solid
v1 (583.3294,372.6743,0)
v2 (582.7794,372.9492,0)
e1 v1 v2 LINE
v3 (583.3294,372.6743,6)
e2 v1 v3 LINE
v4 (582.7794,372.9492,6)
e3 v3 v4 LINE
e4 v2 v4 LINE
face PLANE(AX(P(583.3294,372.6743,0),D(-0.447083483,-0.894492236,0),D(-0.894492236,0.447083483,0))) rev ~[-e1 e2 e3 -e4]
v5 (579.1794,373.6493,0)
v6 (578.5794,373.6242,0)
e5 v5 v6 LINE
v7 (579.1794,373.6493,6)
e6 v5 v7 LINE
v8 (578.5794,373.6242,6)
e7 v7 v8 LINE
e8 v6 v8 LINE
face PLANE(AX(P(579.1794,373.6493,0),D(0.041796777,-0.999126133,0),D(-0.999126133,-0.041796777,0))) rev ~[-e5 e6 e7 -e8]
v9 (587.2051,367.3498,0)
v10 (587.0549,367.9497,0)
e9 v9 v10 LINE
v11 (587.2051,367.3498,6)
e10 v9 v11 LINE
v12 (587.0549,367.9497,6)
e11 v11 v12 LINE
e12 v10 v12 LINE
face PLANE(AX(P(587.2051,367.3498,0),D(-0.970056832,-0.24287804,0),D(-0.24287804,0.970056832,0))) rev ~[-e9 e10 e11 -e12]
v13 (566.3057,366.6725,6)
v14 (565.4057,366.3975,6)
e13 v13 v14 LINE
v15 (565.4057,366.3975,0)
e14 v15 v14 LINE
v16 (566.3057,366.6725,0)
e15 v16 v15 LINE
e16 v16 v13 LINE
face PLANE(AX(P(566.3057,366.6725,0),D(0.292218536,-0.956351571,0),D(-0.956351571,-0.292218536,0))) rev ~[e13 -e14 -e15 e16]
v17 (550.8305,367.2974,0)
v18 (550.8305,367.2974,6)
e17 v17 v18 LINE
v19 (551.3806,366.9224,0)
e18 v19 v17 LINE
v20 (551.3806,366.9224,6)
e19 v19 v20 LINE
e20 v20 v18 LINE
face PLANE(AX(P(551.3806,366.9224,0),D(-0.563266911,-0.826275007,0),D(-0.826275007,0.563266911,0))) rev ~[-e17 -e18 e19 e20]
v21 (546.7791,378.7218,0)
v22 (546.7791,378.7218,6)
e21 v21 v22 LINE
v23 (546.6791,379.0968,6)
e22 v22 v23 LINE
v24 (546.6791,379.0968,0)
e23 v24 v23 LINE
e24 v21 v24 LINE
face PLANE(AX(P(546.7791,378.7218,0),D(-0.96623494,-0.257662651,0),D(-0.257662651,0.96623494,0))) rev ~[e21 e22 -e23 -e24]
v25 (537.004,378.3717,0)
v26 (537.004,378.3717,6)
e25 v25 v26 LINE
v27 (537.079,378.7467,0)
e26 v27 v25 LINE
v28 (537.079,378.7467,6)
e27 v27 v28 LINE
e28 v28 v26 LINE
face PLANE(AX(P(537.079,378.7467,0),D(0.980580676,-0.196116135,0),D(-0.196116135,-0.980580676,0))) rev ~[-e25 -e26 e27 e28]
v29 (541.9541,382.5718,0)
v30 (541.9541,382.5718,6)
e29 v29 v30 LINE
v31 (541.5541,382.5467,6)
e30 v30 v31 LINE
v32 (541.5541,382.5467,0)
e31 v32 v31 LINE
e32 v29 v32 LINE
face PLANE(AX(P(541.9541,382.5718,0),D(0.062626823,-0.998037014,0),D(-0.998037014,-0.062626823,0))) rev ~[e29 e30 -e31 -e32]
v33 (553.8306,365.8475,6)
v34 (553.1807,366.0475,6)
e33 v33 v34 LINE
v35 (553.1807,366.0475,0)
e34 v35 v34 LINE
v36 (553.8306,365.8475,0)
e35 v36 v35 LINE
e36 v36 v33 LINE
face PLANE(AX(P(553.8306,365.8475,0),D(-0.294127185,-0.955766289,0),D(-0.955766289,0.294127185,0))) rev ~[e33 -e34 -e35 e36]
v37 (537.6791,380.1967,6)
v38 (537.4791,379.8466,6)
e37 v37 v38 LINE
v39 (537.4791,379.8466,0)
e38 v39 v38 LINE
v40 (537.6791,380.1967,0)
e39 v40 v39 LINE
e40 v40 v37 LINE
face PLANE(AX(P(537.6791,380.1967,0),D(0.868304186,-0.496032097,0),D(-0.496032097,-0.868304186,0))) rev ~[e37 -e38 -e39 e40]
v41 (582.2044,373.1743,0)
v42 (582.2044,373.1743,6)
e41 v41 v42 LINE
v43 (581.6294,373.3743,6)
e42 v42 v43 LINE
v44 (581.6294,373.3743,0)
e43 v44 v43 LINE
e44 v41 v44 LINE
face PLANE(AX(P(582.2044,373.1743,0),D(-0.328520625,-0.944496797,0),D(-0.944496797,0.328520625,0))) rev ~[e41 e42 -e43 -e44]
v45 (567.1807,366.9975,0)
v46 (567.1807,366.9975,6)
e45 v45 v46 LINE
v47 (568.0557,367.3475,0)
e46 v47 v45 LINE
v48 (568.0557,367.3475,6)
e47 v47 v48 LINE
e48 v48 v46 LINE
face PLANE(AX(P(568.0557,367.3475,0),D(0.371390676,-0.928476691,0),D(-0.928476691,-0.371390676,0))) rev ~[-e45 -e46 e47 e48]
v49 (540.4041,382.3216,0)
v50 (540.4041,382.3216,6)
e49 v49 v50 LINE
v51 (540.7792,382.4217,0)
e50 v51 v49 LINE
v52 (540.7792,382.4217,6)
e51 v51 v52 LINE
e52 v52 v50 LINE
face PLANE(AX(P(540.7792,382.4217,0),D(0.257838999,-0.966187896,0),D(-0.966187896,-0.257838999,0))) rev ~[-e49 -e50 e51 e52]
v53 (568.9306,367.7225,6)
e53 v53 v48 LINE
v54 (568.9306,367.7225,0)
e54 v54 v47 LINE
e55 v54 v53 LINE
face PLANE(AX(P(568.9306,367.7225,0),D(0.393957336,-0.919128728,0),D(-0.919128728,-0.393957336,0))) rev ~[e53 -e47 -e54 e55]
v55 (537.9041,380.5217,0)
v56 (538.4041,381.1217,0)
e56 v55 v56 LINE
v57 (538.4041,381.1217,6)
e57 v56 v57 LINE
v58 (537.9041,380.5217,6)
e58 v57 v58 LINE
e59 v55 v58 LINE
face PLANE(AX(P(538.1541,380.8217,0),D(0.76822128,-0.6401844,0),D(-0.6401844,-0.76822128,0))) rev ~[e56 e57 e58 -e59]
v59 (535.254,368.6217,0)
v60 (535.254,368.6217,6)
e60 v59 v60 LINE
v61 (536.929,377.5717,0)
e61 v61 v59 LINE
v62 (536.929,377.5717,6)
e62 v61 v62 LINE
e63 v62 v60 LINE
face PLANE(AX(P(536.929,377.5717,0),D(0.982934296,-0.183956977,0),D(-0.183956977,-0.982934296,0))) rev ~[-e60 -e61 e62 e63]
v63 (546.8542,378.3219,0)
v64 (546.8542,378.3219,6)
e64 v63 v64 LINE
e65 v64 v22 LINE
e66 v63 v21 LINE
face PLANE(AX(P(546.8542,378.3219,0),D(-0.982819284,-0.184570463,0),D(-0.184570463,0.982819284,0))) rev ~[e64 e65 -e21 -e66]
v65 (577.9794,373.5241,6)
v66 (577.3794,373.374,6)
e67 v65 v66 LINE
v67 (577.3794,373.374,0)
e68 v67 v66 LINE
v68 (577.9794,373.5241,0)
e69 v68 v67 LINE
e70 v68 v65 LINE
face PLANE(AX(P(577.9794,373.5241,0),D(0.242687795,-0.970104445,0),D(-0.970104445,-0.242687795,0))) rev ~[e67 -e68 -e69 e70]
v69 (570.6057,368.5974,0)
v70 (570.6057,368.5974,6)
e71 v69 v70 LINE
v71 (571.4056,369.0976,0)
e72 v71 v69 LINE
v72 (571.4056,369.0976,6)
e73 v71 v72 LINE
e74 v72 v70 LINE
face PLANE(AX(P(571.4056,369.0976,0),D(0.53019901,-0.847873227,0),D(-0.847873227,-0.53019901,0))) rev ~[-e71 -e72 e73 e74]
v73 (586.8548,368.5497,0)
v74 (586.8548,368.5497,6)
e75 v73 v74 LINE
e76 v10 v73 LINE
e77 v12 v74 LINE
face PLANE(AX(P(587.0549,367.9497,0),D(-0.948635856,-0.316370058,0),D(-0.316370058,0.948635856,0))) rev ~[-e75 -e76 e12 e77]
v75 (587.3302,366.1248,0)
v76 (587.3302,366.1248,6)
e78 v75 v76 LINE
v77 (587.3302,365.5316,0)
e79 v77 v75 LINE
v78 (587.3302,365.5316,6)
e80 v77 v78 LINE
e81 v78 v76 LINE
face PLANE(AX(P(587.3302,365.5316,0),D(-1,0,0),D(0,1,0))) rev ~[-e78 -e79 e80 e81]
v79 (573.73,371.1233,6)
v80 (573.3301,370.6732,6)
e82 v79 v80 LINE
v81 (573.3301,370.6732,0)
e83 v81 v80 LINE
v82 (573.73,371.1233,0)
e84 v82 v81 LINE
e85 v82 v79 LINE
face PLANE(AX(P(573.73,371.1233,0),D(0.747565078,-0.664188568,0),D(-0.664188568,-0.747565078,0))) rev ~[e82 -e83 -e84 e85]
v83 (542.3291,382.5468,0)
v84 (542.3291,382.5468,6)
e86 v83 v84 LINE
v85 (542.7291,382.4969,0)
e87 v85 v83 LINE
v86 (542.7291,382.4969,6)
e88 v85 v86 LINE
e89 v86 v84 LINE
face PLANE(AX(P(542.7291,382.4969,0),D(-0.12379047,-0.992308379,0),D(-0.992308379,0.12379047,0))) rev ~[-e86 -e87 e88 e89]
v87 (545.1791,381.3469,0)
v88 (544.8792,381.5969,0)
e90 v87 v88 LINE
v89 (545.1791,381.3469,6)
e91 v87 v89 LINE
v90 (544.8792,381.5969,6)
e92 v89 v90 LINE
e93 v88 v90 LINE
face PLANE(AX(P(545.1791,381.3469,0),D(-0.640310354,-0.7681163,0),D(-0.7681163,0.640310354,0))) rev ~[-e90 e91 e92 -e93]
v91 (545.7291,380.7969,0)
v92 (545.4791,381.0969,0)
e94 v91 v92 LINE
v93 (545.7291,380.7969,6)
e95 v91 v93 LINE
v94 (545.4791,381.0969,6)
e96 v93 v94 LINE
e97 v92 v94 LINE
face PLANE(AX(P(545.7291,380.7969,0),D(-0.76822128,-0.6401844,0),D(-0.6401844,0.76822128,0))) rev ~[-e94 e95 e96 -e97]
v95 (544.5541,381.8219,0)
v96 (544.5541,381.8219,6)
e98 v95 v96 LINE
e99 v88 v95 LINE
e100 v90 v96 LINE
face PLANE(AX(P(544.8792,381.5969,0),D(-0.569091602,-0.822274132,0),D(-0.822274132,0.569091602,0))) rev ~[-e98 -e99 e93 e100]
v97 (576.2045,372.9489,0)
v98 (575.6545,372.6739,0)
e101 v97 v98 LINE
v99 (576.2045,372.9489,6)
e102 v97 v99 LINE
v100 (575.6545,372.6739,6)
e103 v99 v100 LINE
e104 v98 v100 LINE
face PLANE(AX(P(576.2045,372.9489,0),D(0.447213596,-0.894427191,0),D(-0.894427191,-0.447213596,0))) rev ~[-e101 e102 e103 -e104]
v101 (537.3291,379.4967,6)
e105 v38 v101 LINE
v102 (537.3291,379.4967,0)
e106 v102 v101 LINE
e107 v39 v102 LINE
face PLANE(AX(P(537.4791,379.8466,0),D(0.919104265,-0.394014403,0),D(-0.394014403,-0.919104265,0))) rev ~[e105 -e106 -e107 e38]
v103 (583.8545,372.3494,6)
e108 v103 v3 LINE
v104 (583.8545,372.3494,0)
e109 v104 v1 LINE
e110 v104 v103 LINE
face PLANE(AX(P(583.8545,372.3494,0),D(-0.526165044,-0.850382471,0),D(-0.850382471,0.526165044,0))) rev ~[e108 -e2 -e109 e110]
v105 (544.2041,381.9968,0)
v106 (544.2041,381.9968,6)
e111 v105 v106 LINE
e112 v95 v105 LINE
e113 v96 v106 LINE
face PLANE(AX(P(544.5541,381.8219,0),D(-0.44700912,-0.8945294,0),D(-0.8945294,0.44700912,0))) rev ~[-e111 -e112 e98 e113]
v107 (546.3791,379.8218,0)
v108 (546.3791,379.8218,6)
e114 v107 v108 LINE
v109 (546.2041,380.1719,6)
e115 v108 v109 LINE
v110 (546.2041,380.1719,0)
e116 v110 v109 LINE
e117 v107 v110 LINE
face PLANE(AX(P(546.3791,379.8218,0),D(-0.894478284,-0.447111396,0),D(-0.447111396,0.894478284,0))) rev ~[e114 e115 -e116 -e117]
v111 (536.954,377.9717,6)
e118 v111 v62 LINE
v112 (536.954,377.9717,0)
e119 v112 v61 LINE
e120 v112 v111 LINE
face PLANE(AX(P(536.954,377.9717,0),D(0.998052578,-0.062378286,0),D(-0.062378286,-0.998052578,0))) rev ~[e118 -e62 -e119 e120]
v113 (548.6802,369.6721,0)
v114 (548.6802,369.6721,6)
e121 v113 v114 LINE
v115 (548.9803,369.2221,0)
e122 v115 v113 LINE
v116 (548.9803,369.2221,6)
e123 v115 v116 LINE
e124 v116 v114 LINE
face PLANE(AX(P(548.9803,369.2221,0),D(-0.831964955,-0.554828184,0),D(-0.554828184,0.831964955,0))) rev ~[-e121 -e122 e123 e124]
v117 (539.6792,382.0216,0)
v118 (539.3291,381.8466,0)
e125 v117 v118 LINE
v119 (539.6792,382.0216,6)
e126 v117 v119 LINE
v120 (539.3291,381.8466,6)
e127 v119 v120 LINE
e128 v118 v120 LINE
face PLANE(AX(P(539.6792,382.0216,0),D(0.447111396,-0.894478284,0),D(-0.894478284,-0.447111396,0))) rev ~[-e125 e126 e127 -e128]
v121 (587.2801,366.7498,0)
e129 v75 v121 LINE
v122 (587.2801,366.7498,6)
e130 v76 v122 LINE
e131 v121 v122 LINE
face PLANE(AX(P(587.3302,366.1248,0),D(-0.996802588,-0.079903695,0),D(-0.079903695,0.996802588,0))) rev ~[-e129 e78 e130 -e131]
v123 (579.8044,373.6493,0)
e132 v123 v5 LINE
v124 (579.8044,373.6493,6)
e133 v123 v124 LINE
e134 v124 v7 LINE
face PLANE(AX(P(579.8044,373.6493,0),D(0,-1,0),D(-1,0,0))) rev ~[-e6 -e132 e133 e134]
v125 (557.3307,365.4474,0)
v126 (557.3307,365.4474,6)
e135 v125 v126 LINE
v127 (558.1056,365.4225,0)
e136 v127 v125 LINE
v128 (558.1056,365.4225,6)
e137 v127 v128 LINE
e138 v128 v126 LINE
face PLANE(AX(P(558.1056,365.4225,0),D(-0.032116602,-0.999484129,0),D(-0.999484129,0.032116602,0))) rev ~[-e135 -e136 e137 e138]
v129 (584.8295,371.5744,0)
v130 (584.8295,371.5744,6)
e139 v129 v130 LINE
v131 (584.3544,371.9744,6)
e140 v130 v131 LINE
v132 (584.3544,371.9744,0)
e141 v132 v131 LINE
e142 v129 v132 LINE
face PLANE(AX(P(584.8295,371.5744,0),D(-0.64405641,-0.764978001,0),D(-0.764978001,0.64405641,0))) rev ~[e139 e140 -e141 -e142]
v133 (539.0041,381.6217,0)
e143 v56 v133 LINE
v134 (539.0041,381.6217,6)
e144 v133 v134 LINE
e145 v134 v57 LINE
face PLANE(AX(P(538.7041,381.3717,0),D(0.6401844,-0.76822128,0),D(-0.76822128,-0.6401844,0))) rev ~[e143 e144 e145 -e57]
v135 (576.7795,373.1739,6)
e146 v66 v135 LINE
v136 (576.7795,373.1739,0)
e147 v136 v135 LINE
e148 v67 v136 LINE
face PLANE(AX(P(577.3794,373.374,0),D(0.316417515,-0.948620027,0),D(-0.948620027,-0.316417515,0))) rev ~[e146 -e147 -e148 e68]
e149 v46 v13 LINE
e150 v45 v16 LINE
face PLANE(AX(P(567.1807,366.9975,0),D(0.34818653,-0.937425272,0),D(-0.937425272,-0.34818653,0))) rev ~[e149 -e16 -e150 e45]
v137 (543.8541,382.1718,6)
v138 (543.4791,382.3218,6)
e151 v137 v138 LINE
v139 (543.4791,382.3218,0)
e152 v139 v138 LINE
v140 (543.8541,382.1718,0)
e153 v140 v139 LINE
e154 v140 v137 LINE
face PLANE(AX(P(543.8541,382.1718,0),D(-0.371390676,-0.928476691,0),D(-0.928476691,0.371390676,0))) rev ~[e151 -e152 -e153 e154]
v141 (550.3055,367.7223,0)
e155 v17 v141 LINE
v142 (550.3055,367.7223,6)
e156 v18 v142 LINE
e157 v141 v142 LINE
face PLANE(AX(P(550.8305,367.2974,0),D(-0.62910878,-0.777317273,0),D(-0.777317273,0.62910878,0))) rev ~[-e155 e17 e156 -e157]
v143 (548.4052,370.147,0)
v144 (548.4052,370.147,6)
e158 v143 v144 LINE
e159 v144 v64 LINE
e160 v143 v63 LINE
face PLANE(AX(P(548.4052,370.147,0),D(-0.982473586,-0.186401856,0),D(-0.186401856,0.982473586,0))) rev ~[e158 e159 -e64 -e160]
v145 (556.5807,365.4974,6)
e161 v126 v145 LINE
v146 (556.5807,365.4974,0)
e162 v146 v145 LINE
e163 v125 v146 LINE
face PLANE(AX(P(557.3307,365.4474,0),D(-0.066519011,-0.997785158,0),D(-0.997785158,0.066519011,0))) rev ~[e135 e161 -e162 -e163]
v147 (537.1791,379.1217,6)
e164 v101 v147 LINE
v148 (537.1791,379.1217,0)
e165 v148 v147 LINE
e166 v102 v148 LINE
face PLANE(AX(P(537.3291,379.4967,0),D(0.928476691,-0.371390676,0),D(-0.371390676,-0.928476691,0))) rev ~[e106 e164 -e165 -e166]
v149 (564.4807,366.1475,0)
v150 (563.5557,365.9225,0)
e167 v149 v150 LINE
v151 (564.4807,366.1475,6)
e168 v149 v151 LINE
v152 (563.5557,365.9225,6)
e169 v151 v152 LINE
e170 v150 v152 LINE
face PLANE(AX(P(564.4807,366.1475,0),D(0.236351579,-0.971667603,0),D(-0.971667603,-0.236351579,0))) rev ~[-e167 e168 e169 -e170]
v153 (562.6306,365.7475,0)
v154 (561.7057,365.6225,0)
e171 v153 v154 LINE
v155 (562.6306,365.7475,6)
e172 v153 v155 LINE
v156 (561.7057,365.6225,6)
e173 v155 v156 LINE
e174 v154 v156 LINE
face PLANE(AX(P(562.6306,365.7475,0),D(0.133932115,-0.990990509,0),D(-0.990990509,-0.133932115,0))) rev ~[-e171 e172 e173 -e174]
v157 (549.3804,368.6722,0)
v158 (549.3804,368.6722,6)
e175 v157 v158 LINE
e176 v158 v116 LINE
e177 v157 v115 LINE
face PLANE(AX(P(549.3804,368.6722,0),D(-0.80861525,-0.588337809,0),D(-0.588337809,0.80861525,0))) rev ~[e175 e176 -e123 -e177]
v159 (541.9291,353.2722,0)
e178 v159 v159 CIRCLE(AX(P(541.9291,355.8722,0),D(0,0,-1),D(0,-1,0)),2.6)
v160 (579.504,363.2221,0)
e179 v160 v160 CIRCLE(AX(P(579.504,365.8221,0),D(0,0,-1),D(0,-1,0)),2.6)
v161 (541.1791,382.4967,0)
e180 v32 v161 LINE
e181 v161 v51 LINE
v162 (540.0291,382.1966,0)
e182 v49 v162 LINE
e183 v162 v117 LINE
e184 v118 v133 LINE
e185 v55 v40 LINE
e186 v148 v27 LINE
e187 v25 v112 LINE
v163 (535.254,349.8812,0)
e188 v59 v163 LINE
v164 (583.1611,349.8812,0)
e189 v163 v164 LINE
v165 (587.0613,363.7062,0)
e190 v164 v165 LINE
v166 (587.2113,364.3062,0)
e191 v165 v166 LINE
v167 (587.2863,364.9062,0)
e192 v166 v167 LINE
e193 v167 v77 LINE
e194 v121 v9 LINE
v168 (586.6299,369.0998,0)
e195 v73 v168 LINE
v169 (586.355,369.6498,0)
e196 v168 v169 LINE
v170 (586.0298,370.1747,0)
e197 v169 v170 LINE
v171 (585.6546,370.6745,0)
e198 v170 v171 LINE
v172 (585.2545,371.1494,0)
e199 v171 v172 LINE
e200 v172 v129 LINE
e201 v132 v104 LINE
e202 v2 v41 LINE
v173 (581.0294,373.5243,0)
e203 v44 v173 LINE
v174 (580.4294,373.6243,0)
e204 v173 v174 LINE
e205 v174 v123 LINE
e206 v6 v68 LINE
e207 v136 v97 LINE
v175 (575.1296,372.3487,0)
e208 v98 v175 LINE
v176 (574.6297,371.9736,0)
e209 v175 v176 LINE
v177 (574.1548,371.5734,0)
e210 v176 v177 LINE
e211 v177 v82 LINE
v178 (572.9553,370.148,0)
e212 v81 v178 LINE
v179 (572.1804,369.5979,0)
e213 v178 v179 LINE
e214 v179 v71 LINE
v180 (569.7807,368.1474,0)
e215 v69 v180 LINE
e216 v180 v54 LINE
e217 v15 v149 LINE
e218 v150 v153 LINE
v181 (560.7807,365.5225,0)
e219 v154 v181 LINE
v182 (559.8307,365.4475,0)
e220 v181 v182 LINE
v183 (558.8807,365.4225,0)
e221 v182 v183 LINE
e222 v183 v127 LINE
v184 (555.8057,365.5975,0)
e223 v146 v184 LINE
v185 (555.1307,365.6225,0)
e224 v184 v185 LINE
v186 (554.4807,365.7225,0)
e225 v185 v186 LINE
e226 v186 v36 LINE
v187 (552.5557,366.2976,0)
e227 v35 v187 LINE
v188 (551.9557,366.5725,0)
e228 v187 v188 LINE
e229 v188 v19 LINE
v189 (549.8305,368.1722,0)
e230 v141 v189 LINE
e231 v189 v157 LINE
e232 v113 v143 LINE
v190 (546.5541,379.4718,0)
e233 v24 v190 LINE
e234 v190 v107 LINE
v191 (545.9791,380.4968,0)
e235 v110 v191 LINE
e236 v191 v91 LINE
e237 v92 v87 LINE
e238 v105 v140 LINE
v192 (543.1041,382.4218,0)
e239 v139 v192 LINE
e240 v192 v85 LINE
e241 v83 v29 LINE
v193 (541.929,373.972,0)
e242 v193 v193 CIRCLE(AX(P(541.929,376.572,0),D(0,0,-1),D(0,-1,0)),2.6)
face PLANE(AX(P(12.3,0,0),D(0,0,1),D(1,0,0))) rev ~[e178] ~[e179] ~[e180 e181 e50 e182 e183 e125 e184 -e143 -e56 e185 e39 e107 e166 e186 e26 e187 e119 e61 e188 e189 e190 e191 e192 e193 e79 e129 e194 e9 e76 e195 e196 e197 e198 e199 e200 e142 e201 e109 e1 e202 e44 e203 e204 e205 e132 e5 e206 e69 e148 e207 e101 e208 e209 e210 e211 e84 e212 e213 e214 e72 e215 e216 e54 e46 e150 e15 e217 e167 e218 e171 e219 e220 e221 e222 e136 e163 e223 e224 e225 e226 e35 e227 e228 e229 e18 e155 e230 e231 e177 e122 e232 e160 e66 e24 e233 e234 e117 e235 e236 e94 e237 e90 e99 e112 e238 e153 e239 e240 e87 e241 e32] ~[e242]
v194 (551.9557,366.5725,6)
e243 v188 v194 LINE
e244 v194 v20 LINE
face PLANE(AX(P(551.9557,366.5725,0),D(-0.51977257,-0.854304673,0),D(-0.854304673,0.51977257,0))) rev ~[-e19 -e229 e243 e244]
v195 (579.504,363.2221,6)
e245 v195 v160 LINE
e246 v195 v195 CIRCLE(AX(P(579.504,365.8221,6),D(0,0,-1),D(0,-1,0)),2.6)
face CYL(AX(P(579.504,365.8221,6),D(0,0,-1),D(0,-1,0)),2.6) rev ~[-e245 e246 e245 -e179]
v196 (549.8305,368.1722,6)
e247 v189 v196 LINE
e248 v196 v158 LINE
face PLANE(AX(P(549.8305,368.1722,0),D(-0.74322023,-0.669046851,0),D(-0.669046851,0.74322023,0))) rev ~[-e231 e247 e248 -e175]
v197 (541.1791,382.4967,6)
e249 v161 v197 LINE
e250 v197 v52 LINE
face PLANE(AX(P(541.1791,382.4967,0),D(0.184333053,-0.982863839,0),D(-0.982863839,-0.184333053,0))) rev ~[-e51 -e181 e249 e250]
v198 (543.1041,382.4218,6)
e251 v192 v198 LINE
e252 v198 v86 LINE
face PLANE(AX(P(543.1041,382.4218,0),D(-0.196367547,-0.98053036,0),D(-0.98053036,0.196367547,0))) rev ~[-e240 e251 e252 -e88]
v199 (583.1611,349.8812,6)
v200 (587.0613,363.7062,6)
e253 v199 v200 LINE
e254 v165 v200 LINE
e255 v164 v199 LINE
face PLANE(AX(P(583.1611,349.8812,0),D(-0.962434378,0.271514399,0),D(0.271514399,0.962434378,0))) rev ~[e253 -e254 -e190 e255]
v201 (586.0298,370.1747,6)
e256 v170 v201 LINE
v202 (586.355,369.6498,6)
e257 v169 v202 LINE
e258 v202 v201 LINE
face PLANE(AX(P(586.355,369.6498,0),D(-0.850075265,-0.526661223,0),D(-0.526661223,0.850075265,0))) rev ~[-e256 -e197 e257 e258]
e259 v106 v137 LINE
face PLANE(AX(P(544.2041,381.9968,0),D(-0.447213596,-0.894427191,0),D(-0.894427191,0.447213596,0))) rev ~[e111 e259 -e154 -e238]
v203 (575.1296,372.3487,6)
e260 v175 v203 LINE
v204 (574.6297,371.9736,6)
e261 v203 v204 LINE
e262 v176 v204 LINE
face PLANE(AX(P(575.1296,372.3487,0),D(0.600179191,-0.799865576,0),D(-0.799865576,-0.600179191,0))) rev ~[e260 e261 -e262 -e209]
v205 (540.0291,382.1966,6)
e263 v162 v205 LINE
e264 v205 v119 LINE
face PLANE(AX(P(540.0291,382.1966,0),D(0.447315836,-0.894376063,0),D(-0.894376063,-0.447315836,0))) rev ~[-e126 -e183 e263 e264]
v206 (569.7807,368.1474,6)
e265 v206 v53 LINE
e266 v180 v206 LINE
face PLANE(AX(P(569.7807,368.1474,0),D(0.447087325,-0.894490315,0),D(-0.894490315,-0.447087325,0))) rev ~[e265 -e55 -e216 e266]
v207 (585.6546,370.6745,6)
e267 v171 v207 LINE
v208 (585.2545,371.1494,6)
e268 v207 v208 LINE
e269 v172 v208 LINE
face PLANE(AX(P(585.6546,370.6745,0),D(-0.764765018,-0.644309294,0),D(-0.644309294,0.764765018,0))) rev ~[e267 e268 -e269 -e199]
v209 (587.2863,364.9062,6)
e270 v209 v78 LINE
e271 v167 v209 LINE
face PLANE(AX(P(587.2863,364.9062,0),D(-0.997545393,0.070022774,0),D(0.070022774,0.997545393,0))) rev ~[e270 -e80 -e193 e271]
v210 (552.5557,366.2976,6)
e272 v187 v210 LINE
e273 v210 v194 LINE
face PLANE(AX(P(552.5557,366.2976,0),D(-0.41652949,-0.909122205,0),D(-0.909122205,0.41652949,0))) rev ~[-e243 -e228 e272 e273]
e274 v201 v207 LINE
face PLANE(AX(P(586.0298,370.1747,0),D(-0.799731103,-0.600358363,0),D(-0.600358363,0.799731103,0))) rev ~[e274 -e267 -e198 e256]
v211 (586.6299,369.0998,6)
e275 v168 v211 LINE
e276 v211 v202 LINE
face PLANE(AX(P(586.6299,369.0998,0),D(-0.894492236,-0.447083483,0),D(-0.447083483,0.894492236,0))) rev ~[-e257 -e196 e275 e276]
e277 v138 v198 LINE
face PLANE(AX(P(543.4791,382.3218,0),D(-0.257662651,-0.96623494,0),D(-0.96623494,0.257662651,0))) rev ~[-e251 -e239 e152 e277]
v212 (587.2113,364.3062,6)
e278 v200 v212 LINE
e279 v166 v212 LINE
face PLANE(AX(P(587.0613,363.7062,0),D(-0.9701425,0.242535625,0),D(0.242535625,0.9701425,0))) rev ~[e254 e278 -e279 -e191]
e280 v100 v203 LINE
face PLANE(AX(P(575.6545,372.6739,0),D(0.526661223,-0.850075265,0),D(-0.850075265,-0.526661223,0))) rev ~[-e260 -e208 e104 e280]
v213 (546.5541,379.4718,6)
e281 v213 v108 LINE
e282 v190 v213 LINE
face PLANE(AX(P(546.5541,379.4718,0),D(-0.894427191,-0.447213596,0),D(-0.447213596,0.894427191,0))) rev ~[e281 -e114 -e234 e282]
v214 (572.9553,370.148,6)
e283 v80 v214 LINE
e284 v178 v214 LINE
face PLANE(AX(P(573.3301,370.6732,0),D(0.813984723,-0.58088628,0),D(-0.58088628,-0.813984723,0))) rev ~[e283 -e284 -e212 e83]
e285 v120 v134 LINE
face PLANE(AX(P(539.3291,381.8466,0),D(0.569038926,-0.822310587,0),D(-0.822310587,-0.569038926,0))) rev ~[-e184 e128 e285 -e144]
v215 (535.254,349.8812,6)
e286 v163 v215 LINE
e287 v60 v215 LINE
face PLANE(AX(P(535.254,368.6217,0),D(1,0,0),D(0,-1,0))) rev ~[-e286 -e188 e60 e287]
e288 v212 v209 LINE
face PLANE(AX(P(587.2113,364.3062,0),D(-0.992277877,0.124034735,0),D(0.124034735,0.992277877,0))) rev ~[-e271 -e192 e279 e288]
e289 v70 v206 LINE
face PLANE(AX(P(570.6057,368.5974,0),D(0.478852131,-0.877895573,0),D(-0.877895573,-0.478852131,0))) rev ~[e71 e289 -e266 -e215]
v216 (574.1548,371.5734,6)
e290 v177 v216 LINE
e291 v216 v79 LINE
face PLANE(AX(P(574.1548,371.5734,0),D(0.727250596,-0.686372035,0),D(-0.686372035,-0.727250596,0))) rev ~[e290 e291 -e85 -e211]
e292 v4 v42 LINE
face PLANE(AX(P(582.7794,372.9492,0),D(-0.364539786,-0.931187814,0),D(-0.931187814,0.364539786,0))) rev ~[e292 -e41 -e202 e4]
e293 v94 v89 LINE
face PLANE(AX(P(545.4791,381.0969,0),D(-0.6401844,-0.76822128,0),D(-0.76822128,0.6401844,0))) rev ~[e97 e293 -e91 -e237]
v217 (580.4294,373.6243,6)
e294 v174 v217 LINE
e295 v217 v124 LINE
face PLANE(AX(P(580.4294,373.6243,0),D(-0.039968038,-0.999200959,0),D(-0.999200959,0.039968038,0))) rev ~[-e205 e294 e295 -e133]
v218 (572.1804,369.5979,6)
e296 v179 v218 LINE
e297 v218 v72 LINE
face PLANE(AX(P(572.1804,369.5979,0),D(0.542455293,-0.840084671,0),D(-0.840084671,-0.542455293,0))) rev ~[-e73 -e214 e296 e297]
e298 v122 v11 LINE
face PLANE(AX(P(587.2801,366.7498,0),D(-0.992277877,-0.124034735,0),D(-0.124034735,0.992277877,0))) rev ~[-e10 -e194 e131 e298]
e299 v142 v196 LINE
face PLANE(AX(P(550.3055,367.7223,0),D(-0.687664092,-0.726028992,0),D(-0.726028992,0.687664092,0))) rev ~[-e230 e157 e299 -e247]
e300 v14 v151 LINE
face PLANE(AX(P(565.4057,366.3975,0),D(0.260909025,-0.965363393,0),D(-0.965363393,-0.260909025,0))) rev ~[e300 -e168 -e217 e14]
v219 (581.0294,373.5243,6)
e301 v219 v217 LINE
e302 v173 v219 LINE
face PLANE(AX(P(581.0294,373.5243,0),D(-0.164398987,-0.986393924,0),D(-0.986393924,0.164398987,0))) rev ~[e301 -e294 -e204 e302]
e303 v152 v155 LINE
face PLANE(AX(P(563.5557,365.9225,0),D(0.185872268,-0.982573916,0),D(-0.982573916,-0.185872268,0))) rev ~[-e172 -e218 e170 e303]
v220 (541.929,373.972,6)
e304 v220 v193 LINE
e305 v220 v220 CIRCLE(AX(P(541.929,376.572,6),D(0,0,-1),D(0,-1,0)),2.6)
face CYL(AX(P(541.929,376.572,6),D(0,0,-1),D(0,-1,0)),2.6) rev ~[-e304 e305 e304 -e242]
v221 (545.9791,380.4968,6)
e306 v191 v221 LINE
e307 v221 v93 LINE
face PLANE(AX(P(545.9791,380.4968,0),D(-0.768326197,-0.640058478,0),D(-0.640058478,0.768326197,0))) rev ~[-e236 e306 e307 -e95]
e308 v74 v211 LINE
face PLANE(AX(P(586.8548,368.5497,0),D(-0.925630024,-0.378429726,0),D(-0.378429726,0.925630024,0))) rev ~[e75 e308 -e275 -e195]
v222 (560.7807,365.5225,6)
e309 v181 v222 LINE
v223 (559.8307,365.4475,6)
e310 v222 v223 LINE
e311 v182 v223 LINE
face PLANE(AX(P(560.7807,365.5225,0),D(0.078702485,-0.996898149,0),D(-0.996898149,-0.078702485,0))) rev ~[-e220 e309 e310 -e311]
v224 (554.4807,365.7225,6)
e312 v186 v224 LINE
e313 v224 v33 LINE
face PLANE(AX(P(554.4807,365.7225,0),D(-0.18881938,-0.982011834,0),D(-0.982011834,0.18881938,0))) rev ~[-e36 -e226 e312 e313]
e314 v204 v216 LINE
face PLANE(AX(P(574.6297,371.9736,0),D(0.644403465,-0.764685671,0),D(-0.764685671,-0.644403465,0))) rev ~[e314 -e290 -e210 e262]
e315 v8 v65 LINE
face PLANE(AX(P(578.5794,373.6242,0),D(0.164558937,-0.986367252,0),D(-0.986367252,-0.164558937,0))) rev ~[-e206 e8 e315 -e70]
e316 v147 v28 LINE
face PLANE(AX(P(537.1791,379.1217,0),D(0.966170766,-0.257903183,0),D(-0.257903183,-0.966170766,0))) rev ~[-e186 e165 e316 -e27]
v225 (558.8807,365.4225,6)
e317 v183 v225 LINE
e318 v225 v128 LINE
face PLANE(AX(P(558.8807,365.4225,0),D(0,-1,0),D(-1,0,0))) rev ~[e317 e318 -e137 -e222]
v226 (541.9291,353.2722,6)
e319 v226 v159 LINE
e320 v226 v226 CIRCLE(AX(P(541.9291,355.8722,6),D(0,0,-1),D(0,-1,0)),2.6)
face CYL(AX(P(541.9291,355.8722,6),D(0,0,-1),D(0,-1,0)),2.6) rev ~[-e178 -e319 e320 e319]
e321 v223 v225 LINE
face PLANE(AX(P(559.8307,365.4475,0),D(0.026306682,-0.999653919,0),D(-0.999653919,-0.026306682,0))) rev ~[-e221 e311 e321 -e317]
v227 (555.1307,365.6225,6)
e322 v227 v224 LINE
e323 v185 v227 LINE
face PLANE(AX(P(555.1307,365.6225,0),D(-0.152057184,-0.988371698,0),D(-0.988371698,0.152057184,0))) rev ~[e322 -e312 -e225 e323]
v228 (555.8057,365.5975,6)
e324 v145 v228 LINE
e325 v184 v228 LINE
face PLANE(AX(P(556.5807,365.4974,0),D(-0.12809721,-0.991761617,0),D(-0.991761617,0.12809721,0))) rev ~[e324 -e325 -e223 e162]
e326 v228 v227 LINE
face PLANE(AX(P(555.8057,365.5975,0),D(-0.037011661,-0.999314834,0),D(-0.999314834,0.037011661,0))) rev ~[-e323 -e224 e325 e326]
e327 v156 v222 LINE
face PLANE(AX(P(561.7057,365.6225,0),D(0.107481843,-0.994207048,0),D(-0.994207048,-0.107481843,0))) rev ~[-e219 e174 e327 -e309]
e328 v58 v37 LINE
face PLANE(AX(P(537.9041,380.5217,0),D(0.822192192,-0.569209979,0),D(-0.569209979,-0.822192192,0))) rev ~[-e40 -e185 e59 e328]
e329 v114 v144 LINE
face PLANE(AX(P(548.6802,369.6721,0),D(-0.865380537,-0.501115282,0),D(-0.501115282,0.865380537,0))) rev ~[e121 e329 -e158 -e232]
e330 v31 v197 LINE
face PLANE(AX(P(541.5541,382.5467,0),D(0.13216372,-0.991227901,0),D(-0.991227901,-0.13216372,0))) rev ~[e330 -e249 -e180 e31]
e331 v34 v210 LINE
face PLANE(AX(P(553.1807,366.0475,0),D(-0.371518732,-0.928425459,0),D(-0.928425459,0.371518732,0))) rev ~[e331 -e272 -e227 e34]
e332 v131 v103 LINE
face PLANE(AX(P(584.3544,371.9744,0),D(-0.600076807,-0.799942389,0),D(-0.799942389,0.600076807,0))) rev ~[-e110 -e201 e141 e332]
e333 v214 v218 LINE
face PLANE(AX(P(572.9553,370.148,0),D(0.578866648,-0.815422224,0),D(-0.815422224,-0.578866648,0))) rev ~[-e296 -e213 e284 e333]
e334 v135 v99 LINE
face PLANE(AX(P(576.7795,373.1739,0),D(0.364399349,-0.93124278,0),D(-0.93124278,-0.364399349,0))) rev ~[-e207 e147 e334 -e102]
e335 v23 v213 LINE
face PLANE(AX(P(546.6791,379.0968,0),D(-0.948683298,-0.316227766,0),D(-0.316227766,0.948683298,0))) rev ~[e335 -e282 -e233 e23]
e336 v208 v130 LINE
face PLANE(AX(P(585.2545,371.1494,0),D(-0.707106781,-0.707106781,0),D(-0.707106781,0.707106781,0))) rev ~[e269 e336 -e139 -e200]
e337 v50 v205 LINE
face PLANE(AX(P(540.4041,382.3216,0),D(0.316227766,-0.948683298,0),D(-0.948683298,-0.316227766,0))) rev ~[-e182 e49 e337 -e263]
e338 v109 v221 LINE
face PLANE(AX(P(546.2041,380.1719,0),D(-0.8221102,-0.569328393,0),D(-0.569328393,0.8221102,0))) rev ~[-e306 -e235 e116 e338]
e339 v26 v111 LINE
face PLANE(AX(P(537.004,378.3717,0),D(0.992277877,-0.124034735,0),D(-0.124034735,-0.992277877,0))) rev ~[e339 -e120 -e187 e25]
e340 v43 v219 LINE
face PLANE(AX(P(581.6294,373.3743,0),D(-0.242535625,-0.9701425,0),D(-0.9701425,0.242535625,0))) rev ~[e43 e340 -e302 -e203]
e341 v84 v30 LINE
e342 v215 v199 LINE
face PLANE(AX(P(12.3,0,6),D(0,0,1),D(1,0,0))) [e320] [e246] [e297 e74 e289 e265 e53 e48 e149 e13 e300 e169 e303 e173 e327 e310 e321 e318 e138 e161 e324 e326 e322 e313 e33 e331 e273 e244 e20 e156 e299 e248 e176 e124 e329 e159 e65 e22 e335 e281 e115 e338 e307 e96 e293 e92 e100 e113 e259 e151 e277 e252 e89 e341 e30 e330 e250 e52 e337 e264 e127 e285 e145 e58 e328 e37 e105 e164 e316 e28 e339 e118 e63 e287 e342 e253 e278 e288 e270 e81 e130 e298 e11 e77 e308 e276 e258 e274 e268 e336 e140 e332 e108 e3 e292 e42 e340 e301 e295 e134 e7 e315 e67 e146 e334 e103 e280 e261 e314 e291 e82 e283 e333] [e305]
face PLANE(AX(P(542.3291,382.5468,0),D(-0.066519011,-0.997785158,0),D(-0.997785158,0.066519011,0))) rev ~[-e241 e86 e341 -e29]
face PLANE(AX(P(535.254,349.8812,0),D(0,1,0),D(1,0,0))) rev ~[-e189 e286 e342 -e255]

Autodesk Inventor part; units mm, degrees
ref_plane "YZ Plane" through (0, 0, 0) normal (1, 0, 0) x (0, 1, 0)
ref_plane "XZ Plane" through (0, 0, 0) normal (0, 1, 0) x (-1, 0, 0)
ref_plane "XY Plane" through (0, 0, 0) normal (0, 0, 1) x (1, 0, 0)
ref_plane "Work Plane1" through (12.3, 0, 0) normal (0, 0, 1) x (1, 0, 0)
sketch "Sketch1" plane through (12.3, 0, 0) normal (0, 0, 1) x (1, 0, 0)
  line L0 (532.1042, 356.1222) -> (532.079, 356.3722)
  line L1 (532.079, 356.3722) -> (532.004, 356.6222)
  line L2 (532.004, 356.6222) -> (531.929, 356.8472)
  line L3 (531.929, 356.8472) -> (531.829, 357.0721)
  line L4 (531.829, 357.0721) -> (531.7039, 357.2721)
  line L5 (531.7039, 357.2721) -> (531.5538, 357.4721)
  line L6 (531.5538, 357.4721) -> (531.4038, 357.647)
  line L7 (531.4038, 357.647) -> (531.2287, 357.797)
  line L8 (531.2287, 357.797) -> (531.0287, 357.947)
  line L9 (531.0287, 357.947) -> (530.8288, 358.072)
  line L10 (530.8288, 358.072) -> (530.6037, 358.172)
  line L11 (530.6037, 358.172) -> (530.3788, 358.272)
  line L12 (530.3788, 358.272) -> (530.1288, 358.322)
  line L13 (530.1288, 358.322) -> (529.8788, 358.3721)
  line L14 (529.8788, 358.3721) -> (529.6288, 358.3721)
  line L15 (529.6288, 358.3721) -> (529.3788, 358.3721)
  line L16 (529.3788, 358.3721) -> (529.1288, 358.322)
  line L17 (529.1288, 358.322) -> (528.8788, 358.272)
  line L18 (528.8788, 358.272) -> (528.6538, 358.172)
  line L19 (528.6538, 358.172) -> (528.4288, 358.0719)
  line L20 (528.4288, 358.0719) -> (528.2289, 357.9469)
  line L21 (528.2289, 357.9469) -> (528.0289, 357.7968)
  line L22 (528.0289, 357.7968) -> (527.854, 357.6467)
  line L23 (527.854, 357.6467) -> (527.704, 357.4717)
  line L24 (527.704, 357.4717) -> (527.554, 357.2717)
  line L25 (527.554, 357.2717) -> (527.4289, 357.0717)
  line L26 (527.4289, 357.0717) -> (527.329, 356.8467)
  line L27 (527.329, 356.8467) -> (527.229, 356.6217)
  line L28 (527.229, 356.6217) -> (527.179, 356.3717)
  line L29 (527.179, 356.3717) -> (527.129, 356.1217)
  line L30 (527.129, 356.1217) -> (527.129, 355.8717)
  line L31 (527.129, 355.8717) -> (527.129, 355.6217)
  line L32 (527.129, 355.6217) -> (527.179, 355.3717)
  line L33 (527.179, 355.3717) -> (527.2291, 355.1217)
  line L34 (527.2291, 355.1217) -> (527.3291, 354.8967)
  line L35 (527.3291, 354.8967) -> (527.4291, 354.6718)
  line L36 (527.4291, 354.6718) -> (527.5542, 354.4718)
  line L37 (527.5542, 354.4718) -> (527.7043, 354.2718)
  line L38 (527.7043, 354.2718) -> (527.8543, 354.0969)
  line L39 (527.8543, 354.0969) -> (528.0294, 353.9469)
  line L40 (528.0294, 353.9469) -> (528.2293, 353.7969)
  line L41 (528.2293, 353.7969) -> (528.4293, 353.6719)
  line L42 (528.4293, 353.6719) -> (528.6544, 353.5719)
  line L43 (528.6544, 353.5719) -> (528.8793, 353.4968)
  line L44 (528.8793, 353.4968) -> (529.1293, 353.422)
  line L45 (529.1293, 353.422) -> (529.3794, 353.3972)
  line L46 (529.3794, 353.3972) -> (529.6294, 353.3724)
  line L47 (529.6294, 353.3724) -> (529.8794, 353.3975)
  line L48 (529.8794, 353.3975) -> (530.1294, 353.4227)
  line L49 (530.1294, 353.4227) -> (530.3794, 353.4977)
  line L50 (530.3794, 353.4977) -> (530.6043, 353.5727)
  line L51 (530.6043, 353.5727) -> (530.8293, 353.6728)
  line L52 (530.8293, 353.6728) -> (531.0293, 353.7978)
  line L53 (531.0293, 353.7978) -> (531.2292, 353.9479)
  line L54 (531.2292, 353.9479) -> (531.4042, 354.098)
  line L55 (531.4042, 354.098) -> (531.5542, 354.273)
  line L56 (531.5542, 354.273) -> (531.7049, 354.473)
  line L57 (531.7049, 354.473) -> (531.83, 354.6729)
  line L58 (531.83, 354.6729) -> (531.9299, 354.8979)
  line L59 (531.9299, 354.8979) -> (532.005, 355.1229)
  line L60 (532.005, 355.1229) -> (532.0798, 355.373)
  line L61 (532.0798, 355.373) -> (532.1046, 355.623)
  line L62 (532.1046, 355.623) -> (532.1294, 355.8722)
  line L63 (532.1294, 355.8722) -> (532.1042, 356.1222)
  line L64 (532.1042, 376.8228) -> (532.079, 377.0728)
  line L65 (532.079, 377.0728) -> (532.004, 377.2978)
  line L66 (532.004, 377.2978) -> (531.929, 377.5478)
  line L67 (531.929, 377.5478) -> (531.829, 377.7478)
  line L68 (531.829, 377.7478) -> (531.7039, 377.9477)
  line L69 (531.7039, 377.9477) -> (531.5539, 378.1477)
  line L70 (531.5539, 378.1477) -> (531.4038, 378.3226)
  line L71 (531.4038, 378.3226) -> (531.2288, 378.4976)
  line L72 (531.2288, 378.4976) -> (531.0288, 378.6227)
  line L73 (531.0288, 378.6227) -> (530.8289, 378.7477)
  line L74 (530.8289, 378.7477) -> (530.6039, 378.8728)
  line L75 (530.6039, 378.8728) -> (530.3789, 378.9478)
  line L76 (530.3789, 378.9478) -> (530.1289, 379.0226)
  line L77 (530.1289, 379.0226) -> (529.8789, 379.0475)
  line L78 (529.8789, 379.0475) -> (529.6288, 379.0723)
  line L79 (529.6288, 379.0723) -> (529.3789, 379.0471)
  line L80 (529.3789, 379.0471) -> (529.1289, 379.0219)
  line L81 (529.1289, 379.0219) -> (528.8789, 378.9469)
  line L82 (528.8789, 378.9469) -> (528.6539, 378.8719)
  line L83 (528.6539, 378.8719) -> (528.4289, 378.7468)
  line L84 (528.4289, 378.7468) -> (528.229, 378.6218)
  line L85 (528.229, 378.6218) -> (528.029, 378.4967)
  line L86 (528.029, 378.4967) -> (527.854, 378.3217)
  line L87 (527.854, 378.3217) -> (527.704, 378.1467)
  line L88 (527.704, 378.1467) -> (527.554, 377.9467)
  line L89 (527.554, 377.9467) -> (527.429, 377.7467)
  line L90 (527.429, 377.7467) -> (527.329, 377.5467)
  line L91 (527.329, 377.5467) -> (527.229, 377.2967)
  line L92 (527.229, 377.2967) -> (527.179, 377.0717)
  line L93 (527.179, 377.0717) -> (527.129, 376.8217)
  line L94 (527.129, 376.8217) -> (527.129, 376.5717)
  line L95 (527.129, 376.5717) -> (527.129, 376.2967)
  line L96 (527.129, 376.2967) -> (527.179, 376.0467)
  line L97 (527.179, 376.0467) -> (527.229, 375.8217)
  line L98 (527.229, 375.8217) -> (527.329, 375.5967)
  line L99 (527.329, 375.5967) -> (527.429, 375.3717)
  line L100 (527.429, 375.3717) -> (527.5541, 375.1717)
  line L101 (527.5541, 375.1717) -> (527.7042, 374.9718)
  line L102 (527.7042, 374.9718) -> (527.8543, 374.7968)
  line L103 (527.8543, 374.7968) -> (528.0293, 374.622)
  line L104 (528.0293, 374.622) -> (528.2293, 374.4969)
  line L105 (528.2293, 374.4969) -> (528.4293, 374.3719)
  line L106 (528.4293, 374.3719) -> (528.6543, 374.2468)
  line L107 (528.6543, 374.2468) -> (528.8792, 374.1718)
  line L108 (528.8792, 374.1718) -> (529.1292, 374.1217)
  line L109 (529.1292, 374.1217) -> (529.3792, 374.0717)
  line L110 (529.3792, 374.0717) -> (529.6292, 374.0717)
  line L111 (529.6292, 374.0717) -> (529.8792, 374.0717)
  line L112 (529.8792, 374.0717) -> (530.1292, 374.1217)
  line L113 (530.1292, 374.1217) -> (530.3792, 374.1718)
  line L114 (530.3792, 374.1718) -> (530.6041, 374.2468)
  line L115 (530.6041, 374.2468) -> (530.8291, 374.3719)
  line L116 (530.8291, 374.3719) -> (531.0291, 374.4969)
  line L117 (531.0291, 374.4969) -> (531.229, 374.622)
  line L118 (531.229, 374.622) -> (531.404, 374.797)
  line L119 (531.404, 374.797) -> (531.554, 374.972)
  line L120 (531.554, 374.972) -> (531.704, 375.172)
  line L121 (531.704, 375.172) -> (531.8291, 375.372)
  line L122 (531.8291, 375.372) -> (531.9291, 375.597)
  line L123 (531.9291, 375.597) -> (532.0041, 375.822)
  line L124 (532.0041, 375.822) -> (532.0792, 376.0469)
  line L125 (532.0792, 376.0469) -> (532.104, 376.2969)
  line L126 (532.104, 376.2969) -> (532.1294, 376.5728)
  line L127 (532.1294, 376.5728) -> (532.1042, 376.8228)
  line L128 (569.679, 366.0743) -> (569.6538, 366.3242)
  line L129 (569.6538, 366.3242) -> (569.5788, 366.5742)
  line L130 (569.5788, 366.5742) -> (569.5037, 366.7992)
  line L131 (569.5037, 366.7992) -> (569.4037, 367.0242)
  line L132 (569.4037, 367.0242) -> (569.2787, 367.2241)
  line L133 (569.2787, 367.2241) -> (569.1292, 367.4232)
  line L134 (569.1292, 367.4232) -> (568.9791, 367.5982)
  line L135 (568.9791, 367.5982) -> (568.7791, 367.7482)
  line L136 (568.7791, 367.7482) -> (568.6041, 367.8982)
  line L137 (568.6041, 367.8982) -> (568.4041, 368.0232)
  line L138 (568.4041, 368.0232) -> (568.1791, 368.1232)
  line L139 (568.1791, 368.1232) -> (567.9541, 368.1983)
  line L140 (567.9541, 368.1983) -> (567.7041, 368.2731)
  line L141 (567.7041, 368.2731) -> (567.454, 368.2979)
  line L142 (567.454, 368.2979) -> (567.204, 368.3227)
  line L143 (567.204, 368.3227) -> (566.9541, 368.2975)
  line L144 (566.9541, 368.2975) -> (566.704, 368.2724)
  line L145 (566.704, 368.2724) -> (566.4541, 368.1974)
  line L146 (566.4541, 368.1974) -> (566.2291, 368.1223)
  line L147 (566.2291, 368.1223) -> (566.0041, 368.0223)
  line L148 (566.0041, 368.0223) -> (565.8041, 367.8972)
  line L149 (565.8041, 367.8972) -> (565.6042, 367.7472)
  line L150 (565.6042, 367.7472) -> (565.4291, 367.5966)
  line L151 (565.4291, 367.5966) -> (565.2791, 367.4216)
  line L152 (565.2791, 367.4216) -> (565.129, 367.2217)
  line L153 (565.129, 367.2217) -> (565.004, 367.0217)
  line L154 (565.004, 367.0217) -> (564.904, 366.7967)
  line L155 (564.904, 366.7967) -> (564.8041, 366.5717)
  line L156 (564.8041, 366.5717) -> (564.754, 366.3217)
  line L157 (564.754, 366.3217) -> (564.704, 366.0717)
  line L158 (564.704, 366.0717) -> (564.704, 365.8217)
  line L159 (564.704, 365.8217) -> (564.704, 365.5717)
  line L160 (564.704, 365.5717) -> (564.754, 365.3217)
  line L161 (564.754, 365.3217) -> (564.8041, 365.0717)
  line L162 (564.8041, 365.0717) -> (564.9041, 364.8467)
  line L163 (564.9041, 364.8467) -> (565.0041, 364.6217)
  line L164 (565.0041, 364.6217) -> (565.1292, 364.4218)
  line L165 (565.1292, 364.4218) -> (565.2793, 364.2218)
  line L166 (565.2793, 364.2218) -> (565.4294, 364.0469)
  line L167 (565.4294, 364.0469) -> (565.6044, 363.8969)
  line L168 (565.6044, 363.8969) -> (565.804, 363.7464)
  line L169 (565.804, 363.7464) -> (566.004, 363.6214)
  line L170 (566.004, 363.6214) -> (566.229, 363.5214)
  line L171 (566.229, 363.5214) -> (566.454, 363.4214)
  line L172 (566.454, 363.4214) -> (566.704, 363.3715)
  line L173 (566.704, 363.3715) -> (566.954, 363.3215)
  line L174 (566.954, 363.3215) -> (567.204, 363.3215)
  line L175 (567.204, 363.3215) -> (567.454, 363.3215)
  line L176 (567.454, 363.3215) -> (567.704, 363.3715)
  line L177 (567.704, 363.3715) -> (567.9541, 363.4216)
  line L178 (567.9541, 363.4216) -> (568.1792, 363.5216)
  line L179 (568.1792, 363.5216) -> (568.4041, 363.6217)
  line L180 (568.4041, 363.6217) -> (568.6041, 363.7467)
  line L181 (568.6041, 363.7467) -> (568.779, 363.8968)
  line L182 (568.779, 363.8968) -> (568.979, 364.0469)
  line L183 (568.979, 364.0469) -> (569.129, 364.2219)
  line L184 (569.129, 364.2219) -> (569.2795, 364.4223)
  line L185 (569.2795, 364.4223) -> (569.4045, 364.6223)
  line L186 (569.4045, 364.6223) -> (569.5045, 364.8473)
  line L187 (569.5045, 364.8473) -> (569.5796, 365.0723)
  line L188 (569.5796, 365.0723) -> (569.6547, 365.3236)
  line L189 (569.6547, 365.3236) -> (569.6796, 365.5735)
  line L190 (569.6796, 365.5735) -> (569.7043, 365.8226)
  line L191 (569.7043, 365.8226) -> (569.679, 366.0743)
  line L192 (574.9801, 366.7498) -> (574.9051, 367.3498)
  line L193 (574.9051, 367.3498) -> (574.7549, 367.9497)
  line L194 (574.7549, 367.9497) -> (574.5548, 368.5497)
  line L195 (574.5548, 368.5497) -> (574.3299, 369.0998)
  line L196 (574.3299, 369.0998) -> (574.055, 369.6498)
  line L197 (574.055, 369.6498) -> (573.7298, 370.1747)
  line L198 (573.7298, 370.1747) -> (573.3546, 370.6745)
  line L199 (573.3546, 370.6745) -> (572.9545, 371.1494)
  line L200 (572.9545, 371.1494) -> (572.5295, 371.5744)
  line L201 (572.5295, 371.5744) -> (572.0544, 371.9744)
  line L202 (572.0544, 371.9744) -> (571.5545, 372.3494)
  line L203 (571.5545, 372.3494) -> (571.0294, 372.6743)
  line L204 (571.0294, 372.6743) -> (570.4794, 372.9492)
  line L205 (570.4794, 372.9492) -> (569.9044, 373.1743)
  line L206 (569.9044, 373.1743) -> (569.3294, 373.3743)
  line L207 (569.3294, 373.3743) -> (568.7294, 373.5243)
  line L208 (568.7294, 373.5243) -> (568.1294, 373.6243)
  line L209 (568.1294, 373.6243) -> (567.5044, 373.6493)
  line L210 (567.5044, 373.6493) -> (566.8794, 373.6493)
  line L211 (566.8794, 373.6493) -> (566.2794, 373.6242)
  line L212 (566.2794, 373.6242) -> (565.6794, 373.5241)
  line L213 (565.6794, 373.5241) -> (565.0794, 373.374)
  line L214 (565.0794, 373.374) -> (564.4795, 373.1739)
  line L215 (564.4795, 373.1739) -> (563.9045, 372.9489)
  line L216 (563.9045, 372.9489) -> (563.3545, 372.6739)
  line L217 (563.3545, 372.6739) -> (562.8296, 372.3487)
  line L218 (562.8296, 372.3487) -> (562.3297, 371.9736)
  line L219 (562.3297, 371.9736) -> (561.8548, 371.5734)
  line L220 (561.8548, 371.5734) -> (561.43, 371.1233)
  line L221 (561.43, 371.1233) -> (561.0301, 370.6732)
  line L222 (561.0301, 370.6732) -> (560.6553, 370.148)
  line L223 (560.6553, 370.148) -> (559.8804, 369.5979)
  line L224 (559.8804, 369.5979) -> (559.1056, 369.0976)
  line L225 (559.1056, 369.0976) -> (558.3057, 368.5974)
  line L226 (558.3057, 368.5974) -> (557.4807, 368.1474)
  line L227 (557.4807, 368.1474) -> (556.6306, 367.7225)
  line L228 (556.6306, 367.7225) -> (555.7557, 367.3475)
  line L229 (555.7557, 367.3475) -> (554.8807, 366.9975)
  line L230 (554.8807, 366.9975) -> (554.0057, 366.6725)
  line L231 (554.0057, 366.6725) -> (553.1057, 366.3975)
  line L232 (553.1057, 366.3975) -> (552.1807, 366.1475)
  line L233 (552.1807, 366.1475) -> (551.2557, 365.9225)
  line L234 (551.2557, 365.9225) -> (550.3306, 365.7475)
  line L235 (550.3306, 365.7475) -> (549.4057, 365.6225)
  line L236 (549.4057, 365.6225) -> (548.4807, 365.5225)
  line L237 (548.4807, 365.5225) -> (547.5307, 365.4475)
  line L238 (547.5307, 365.4475) -> (546.5807, 365.4225)
  line L239 (546.5807, 365.4225) -> (545.8056, 365.4225)
  line L240 (545.8056, 365.4225) -> (545.0307, 365.4474)
  line L241 (545.0307, 365.4474) -> (544.2807, 365.4974)
  line L242 (544.2807, 365.4974) -> (543.5057, 365.5975)
  line L243 (543.5057, 365.5975) -> (542.8307, 365.6225)
  line L244 (542.8307, 365.6225) -> (542.1807, 365.7225)
  line L245 (542.1807, 365.7225) -> (541.5306, 365.8475)
  line L246 (541.5306, 365.8475) -> (540.8807, 366.0475)
  line L247 (540.8807, 366.0475) -> (540.2557, 366.2976)
  line L248 (540.2557, 366.2976) -> (539.6557, 366.5725)
  line L249 (539.6557, 366.5725) -> (539.0806, 366.9224)
  line L250 (539.0806, 366.9224) -> (538.5305, 367.2974)
  line L251 (538.5305, 367.2974) -> (538.0055, 367.7223)
  line L252 (538.0055, 367.7223) -> (537.5305, 368.1722)
  line L253 (537.5305, 368.1722) -> (537.0804, 368.6722)
  line L254 (537.0804, 368.6722) -> (536.6803, 369.2221)
  line L255 (536.6803, 369.2221) -> (536.3802, 369.6721)
  line L256 (536.3802, 369.6721) -> (536.1052, 370.147)
  line L257 (536.1052, 370.147) -> (534.5542, 378.3219)
  line L258 (534.5542, 378.3219) -> (534.4791, 378.7218)
  line L259 (534.4791, 378.7218) -> (534.3791, 379.0968)
  line L260 (534.3791, 379.0968) -> (534.2541, 379.4718)
  line L261 (534.2541, 379.4718) -> (534.0791, 379.8218)
  line L262 (534.0791, 379.8218) -> (533.9041, 380.1719)
  line L263 (533.9041, 380.1719) -> (533.6791, 380.4968)
  line L264 (533.6791, 380.4968) -> (533.4291, 380.7969)
  line L265 (533.4291, 380.7969) -> (533.1791, 381.0969)
  line L266 (533.1791, 381.0969) -> (532.8791, 381.3469)
  line L267 (532.8791, 381.3469) -> (532.5792, 381.5969)
  line L268 (532.5792, 381.5969) -> (532.2541, 381.8219)
  line L269 (532.2541, 381.8219) -> (531.9041, 381.9968)
  line L270 (531.9041, 381.9968) -> (531.5541, 382.1718)
  line L271 (531.5541, 382.1718) -> (531.1791, 382.3218)
  line L272 (531.1791, 382.3218) -> (530.8041, 382.4218)
  line L273 (530.8041, 382.4218) -> (530.4291, 382.4969)
  line L274 (530.4291, 382.4969) -> (530.0291, 382.5468)
  line L275 (530.0291, 382.5468) -> (529.6541, 382.5718)
  line L276 (529.6541, 382.5718) -> (529.2541, 382.5467)
  line L277 (529.2541, 382.5467) -> (528.8791, 382.4967)
  line L278 (528.8791, 382.4967) -> (528.4792, 382.4217)
  line L279 (528.4792, 382.4217) -> (528.1041, 382.3216)
  line L280 (528.1041, 382.3216) -> (527.7291, 382.1966)
  line L281 (527.7291, 382.1966) -> (527.3792, 382.0216)
  line L282 (527.3792, 382.0216) -> (527.0291, 381.8466)
  line L283 (527.0291, 381.8466) -> (526.7041, 381.6217)
  line L284 (526.7041, 381.6217) -> (526.4041, 381.3717)
  line L285 (526.4041, 381.3717) -> (526.1041, 381.1217)
  line L286 (526.1041, 381.1217) -> (525.8541, 380.8217)
  line L287 (525.8541, 380.8217) -> (525.6041, 380.5217)
  line L288 (525.6041, 380.5217) -> (525.3791, 380.1967)
  line L289 (525.3791, 380.1967) -> (525.1791, 379.8466)
  line L290 (525.1791, 379.8466) -> (525.0291, 379.4967)
  line L291 (525.0291, 379.4967) -> (524.8791, 379.1217)
  line L292 (524.8791, 379.1217) -> (524.779, 378.7467)
  line L293 (524.779, 378.7467) -> (524.704, 378.3717)
  line L294 (524.704, 378.3717) -> (524.654, 377.9717)
  line L295 (524.654, 377.9717) -> (524.629, 377.5717)
  line L296 (524.629, 377.5717) -> (522.954, 368.6217)
  line L297 (522.954, 368.6217) -> (522.954, 349.8812)
  line L298 (522.954, 349.8812) -> (570.8611, 349.8812)
  line L299 (570.8611, 349.8812) -> (574.7613, 363.7062)
  line L300 (574.7613, 363.7062) -> (574.9113, 364.3062)
  line L301 (574.9113, 364.3062) -> (574.9863, 364.9062)
  line L302 (574.9863, 364.9062) -> (575.0302, 365.5316)
  line L303 (575.0302, 365.5316) -> (575.0302, 366.1248)
  line L304 (575.0302, 366.1248) -> (574.9801, 366.7498)
  point P0 (-12.3, 0)
extrude "Extrusion1" add sketch "Sketch1" along normal blind 6
sketch "Sketch2" plane through (12.3, 0, 6) normal (0, 0, 1) x (1, 0, 0)
  line L0 (529.3794, 353.3972) -> (529.6294, 353.3724) projected
  line L1 (529.6294, 353.3724) -> (529.6288, 358.3721)
  line L2 (529.8788, 358.3721) -> (529.3788, 358.3721) projected
  line L3 (529.8792, 374.0717) -> (529.3792, 374.0717) projected
  line L4 (529.6288, 379.0723) -> (529.3789, 379.0471) projected
  line L5 (529.6292, 374.0717) -> (529.6288, 379.0723)
  line L6 (566.9541, 368.2975) -> (567.204, 368.3227) projected
  line L7 (567.204, 368.3227) -> (567.204, 363.3215)
  line L8 (567.454, 363.3215) -> (566.954, 363.3215) projected
  point P0 (-12.3, 0)
  point P1 (567.204, 365.8221)
  point P2 (529.6291, 355.8722)
  point P3 (529.629, 376.572)
hole "Hole1" at (579.504, 365.8221, 6) at (541.9291, 355.8722, 6) at (541.929, 376.572, 6) direction (0, 0, -1) diameter 5.2 end through all
properties part number "X-Idler"
